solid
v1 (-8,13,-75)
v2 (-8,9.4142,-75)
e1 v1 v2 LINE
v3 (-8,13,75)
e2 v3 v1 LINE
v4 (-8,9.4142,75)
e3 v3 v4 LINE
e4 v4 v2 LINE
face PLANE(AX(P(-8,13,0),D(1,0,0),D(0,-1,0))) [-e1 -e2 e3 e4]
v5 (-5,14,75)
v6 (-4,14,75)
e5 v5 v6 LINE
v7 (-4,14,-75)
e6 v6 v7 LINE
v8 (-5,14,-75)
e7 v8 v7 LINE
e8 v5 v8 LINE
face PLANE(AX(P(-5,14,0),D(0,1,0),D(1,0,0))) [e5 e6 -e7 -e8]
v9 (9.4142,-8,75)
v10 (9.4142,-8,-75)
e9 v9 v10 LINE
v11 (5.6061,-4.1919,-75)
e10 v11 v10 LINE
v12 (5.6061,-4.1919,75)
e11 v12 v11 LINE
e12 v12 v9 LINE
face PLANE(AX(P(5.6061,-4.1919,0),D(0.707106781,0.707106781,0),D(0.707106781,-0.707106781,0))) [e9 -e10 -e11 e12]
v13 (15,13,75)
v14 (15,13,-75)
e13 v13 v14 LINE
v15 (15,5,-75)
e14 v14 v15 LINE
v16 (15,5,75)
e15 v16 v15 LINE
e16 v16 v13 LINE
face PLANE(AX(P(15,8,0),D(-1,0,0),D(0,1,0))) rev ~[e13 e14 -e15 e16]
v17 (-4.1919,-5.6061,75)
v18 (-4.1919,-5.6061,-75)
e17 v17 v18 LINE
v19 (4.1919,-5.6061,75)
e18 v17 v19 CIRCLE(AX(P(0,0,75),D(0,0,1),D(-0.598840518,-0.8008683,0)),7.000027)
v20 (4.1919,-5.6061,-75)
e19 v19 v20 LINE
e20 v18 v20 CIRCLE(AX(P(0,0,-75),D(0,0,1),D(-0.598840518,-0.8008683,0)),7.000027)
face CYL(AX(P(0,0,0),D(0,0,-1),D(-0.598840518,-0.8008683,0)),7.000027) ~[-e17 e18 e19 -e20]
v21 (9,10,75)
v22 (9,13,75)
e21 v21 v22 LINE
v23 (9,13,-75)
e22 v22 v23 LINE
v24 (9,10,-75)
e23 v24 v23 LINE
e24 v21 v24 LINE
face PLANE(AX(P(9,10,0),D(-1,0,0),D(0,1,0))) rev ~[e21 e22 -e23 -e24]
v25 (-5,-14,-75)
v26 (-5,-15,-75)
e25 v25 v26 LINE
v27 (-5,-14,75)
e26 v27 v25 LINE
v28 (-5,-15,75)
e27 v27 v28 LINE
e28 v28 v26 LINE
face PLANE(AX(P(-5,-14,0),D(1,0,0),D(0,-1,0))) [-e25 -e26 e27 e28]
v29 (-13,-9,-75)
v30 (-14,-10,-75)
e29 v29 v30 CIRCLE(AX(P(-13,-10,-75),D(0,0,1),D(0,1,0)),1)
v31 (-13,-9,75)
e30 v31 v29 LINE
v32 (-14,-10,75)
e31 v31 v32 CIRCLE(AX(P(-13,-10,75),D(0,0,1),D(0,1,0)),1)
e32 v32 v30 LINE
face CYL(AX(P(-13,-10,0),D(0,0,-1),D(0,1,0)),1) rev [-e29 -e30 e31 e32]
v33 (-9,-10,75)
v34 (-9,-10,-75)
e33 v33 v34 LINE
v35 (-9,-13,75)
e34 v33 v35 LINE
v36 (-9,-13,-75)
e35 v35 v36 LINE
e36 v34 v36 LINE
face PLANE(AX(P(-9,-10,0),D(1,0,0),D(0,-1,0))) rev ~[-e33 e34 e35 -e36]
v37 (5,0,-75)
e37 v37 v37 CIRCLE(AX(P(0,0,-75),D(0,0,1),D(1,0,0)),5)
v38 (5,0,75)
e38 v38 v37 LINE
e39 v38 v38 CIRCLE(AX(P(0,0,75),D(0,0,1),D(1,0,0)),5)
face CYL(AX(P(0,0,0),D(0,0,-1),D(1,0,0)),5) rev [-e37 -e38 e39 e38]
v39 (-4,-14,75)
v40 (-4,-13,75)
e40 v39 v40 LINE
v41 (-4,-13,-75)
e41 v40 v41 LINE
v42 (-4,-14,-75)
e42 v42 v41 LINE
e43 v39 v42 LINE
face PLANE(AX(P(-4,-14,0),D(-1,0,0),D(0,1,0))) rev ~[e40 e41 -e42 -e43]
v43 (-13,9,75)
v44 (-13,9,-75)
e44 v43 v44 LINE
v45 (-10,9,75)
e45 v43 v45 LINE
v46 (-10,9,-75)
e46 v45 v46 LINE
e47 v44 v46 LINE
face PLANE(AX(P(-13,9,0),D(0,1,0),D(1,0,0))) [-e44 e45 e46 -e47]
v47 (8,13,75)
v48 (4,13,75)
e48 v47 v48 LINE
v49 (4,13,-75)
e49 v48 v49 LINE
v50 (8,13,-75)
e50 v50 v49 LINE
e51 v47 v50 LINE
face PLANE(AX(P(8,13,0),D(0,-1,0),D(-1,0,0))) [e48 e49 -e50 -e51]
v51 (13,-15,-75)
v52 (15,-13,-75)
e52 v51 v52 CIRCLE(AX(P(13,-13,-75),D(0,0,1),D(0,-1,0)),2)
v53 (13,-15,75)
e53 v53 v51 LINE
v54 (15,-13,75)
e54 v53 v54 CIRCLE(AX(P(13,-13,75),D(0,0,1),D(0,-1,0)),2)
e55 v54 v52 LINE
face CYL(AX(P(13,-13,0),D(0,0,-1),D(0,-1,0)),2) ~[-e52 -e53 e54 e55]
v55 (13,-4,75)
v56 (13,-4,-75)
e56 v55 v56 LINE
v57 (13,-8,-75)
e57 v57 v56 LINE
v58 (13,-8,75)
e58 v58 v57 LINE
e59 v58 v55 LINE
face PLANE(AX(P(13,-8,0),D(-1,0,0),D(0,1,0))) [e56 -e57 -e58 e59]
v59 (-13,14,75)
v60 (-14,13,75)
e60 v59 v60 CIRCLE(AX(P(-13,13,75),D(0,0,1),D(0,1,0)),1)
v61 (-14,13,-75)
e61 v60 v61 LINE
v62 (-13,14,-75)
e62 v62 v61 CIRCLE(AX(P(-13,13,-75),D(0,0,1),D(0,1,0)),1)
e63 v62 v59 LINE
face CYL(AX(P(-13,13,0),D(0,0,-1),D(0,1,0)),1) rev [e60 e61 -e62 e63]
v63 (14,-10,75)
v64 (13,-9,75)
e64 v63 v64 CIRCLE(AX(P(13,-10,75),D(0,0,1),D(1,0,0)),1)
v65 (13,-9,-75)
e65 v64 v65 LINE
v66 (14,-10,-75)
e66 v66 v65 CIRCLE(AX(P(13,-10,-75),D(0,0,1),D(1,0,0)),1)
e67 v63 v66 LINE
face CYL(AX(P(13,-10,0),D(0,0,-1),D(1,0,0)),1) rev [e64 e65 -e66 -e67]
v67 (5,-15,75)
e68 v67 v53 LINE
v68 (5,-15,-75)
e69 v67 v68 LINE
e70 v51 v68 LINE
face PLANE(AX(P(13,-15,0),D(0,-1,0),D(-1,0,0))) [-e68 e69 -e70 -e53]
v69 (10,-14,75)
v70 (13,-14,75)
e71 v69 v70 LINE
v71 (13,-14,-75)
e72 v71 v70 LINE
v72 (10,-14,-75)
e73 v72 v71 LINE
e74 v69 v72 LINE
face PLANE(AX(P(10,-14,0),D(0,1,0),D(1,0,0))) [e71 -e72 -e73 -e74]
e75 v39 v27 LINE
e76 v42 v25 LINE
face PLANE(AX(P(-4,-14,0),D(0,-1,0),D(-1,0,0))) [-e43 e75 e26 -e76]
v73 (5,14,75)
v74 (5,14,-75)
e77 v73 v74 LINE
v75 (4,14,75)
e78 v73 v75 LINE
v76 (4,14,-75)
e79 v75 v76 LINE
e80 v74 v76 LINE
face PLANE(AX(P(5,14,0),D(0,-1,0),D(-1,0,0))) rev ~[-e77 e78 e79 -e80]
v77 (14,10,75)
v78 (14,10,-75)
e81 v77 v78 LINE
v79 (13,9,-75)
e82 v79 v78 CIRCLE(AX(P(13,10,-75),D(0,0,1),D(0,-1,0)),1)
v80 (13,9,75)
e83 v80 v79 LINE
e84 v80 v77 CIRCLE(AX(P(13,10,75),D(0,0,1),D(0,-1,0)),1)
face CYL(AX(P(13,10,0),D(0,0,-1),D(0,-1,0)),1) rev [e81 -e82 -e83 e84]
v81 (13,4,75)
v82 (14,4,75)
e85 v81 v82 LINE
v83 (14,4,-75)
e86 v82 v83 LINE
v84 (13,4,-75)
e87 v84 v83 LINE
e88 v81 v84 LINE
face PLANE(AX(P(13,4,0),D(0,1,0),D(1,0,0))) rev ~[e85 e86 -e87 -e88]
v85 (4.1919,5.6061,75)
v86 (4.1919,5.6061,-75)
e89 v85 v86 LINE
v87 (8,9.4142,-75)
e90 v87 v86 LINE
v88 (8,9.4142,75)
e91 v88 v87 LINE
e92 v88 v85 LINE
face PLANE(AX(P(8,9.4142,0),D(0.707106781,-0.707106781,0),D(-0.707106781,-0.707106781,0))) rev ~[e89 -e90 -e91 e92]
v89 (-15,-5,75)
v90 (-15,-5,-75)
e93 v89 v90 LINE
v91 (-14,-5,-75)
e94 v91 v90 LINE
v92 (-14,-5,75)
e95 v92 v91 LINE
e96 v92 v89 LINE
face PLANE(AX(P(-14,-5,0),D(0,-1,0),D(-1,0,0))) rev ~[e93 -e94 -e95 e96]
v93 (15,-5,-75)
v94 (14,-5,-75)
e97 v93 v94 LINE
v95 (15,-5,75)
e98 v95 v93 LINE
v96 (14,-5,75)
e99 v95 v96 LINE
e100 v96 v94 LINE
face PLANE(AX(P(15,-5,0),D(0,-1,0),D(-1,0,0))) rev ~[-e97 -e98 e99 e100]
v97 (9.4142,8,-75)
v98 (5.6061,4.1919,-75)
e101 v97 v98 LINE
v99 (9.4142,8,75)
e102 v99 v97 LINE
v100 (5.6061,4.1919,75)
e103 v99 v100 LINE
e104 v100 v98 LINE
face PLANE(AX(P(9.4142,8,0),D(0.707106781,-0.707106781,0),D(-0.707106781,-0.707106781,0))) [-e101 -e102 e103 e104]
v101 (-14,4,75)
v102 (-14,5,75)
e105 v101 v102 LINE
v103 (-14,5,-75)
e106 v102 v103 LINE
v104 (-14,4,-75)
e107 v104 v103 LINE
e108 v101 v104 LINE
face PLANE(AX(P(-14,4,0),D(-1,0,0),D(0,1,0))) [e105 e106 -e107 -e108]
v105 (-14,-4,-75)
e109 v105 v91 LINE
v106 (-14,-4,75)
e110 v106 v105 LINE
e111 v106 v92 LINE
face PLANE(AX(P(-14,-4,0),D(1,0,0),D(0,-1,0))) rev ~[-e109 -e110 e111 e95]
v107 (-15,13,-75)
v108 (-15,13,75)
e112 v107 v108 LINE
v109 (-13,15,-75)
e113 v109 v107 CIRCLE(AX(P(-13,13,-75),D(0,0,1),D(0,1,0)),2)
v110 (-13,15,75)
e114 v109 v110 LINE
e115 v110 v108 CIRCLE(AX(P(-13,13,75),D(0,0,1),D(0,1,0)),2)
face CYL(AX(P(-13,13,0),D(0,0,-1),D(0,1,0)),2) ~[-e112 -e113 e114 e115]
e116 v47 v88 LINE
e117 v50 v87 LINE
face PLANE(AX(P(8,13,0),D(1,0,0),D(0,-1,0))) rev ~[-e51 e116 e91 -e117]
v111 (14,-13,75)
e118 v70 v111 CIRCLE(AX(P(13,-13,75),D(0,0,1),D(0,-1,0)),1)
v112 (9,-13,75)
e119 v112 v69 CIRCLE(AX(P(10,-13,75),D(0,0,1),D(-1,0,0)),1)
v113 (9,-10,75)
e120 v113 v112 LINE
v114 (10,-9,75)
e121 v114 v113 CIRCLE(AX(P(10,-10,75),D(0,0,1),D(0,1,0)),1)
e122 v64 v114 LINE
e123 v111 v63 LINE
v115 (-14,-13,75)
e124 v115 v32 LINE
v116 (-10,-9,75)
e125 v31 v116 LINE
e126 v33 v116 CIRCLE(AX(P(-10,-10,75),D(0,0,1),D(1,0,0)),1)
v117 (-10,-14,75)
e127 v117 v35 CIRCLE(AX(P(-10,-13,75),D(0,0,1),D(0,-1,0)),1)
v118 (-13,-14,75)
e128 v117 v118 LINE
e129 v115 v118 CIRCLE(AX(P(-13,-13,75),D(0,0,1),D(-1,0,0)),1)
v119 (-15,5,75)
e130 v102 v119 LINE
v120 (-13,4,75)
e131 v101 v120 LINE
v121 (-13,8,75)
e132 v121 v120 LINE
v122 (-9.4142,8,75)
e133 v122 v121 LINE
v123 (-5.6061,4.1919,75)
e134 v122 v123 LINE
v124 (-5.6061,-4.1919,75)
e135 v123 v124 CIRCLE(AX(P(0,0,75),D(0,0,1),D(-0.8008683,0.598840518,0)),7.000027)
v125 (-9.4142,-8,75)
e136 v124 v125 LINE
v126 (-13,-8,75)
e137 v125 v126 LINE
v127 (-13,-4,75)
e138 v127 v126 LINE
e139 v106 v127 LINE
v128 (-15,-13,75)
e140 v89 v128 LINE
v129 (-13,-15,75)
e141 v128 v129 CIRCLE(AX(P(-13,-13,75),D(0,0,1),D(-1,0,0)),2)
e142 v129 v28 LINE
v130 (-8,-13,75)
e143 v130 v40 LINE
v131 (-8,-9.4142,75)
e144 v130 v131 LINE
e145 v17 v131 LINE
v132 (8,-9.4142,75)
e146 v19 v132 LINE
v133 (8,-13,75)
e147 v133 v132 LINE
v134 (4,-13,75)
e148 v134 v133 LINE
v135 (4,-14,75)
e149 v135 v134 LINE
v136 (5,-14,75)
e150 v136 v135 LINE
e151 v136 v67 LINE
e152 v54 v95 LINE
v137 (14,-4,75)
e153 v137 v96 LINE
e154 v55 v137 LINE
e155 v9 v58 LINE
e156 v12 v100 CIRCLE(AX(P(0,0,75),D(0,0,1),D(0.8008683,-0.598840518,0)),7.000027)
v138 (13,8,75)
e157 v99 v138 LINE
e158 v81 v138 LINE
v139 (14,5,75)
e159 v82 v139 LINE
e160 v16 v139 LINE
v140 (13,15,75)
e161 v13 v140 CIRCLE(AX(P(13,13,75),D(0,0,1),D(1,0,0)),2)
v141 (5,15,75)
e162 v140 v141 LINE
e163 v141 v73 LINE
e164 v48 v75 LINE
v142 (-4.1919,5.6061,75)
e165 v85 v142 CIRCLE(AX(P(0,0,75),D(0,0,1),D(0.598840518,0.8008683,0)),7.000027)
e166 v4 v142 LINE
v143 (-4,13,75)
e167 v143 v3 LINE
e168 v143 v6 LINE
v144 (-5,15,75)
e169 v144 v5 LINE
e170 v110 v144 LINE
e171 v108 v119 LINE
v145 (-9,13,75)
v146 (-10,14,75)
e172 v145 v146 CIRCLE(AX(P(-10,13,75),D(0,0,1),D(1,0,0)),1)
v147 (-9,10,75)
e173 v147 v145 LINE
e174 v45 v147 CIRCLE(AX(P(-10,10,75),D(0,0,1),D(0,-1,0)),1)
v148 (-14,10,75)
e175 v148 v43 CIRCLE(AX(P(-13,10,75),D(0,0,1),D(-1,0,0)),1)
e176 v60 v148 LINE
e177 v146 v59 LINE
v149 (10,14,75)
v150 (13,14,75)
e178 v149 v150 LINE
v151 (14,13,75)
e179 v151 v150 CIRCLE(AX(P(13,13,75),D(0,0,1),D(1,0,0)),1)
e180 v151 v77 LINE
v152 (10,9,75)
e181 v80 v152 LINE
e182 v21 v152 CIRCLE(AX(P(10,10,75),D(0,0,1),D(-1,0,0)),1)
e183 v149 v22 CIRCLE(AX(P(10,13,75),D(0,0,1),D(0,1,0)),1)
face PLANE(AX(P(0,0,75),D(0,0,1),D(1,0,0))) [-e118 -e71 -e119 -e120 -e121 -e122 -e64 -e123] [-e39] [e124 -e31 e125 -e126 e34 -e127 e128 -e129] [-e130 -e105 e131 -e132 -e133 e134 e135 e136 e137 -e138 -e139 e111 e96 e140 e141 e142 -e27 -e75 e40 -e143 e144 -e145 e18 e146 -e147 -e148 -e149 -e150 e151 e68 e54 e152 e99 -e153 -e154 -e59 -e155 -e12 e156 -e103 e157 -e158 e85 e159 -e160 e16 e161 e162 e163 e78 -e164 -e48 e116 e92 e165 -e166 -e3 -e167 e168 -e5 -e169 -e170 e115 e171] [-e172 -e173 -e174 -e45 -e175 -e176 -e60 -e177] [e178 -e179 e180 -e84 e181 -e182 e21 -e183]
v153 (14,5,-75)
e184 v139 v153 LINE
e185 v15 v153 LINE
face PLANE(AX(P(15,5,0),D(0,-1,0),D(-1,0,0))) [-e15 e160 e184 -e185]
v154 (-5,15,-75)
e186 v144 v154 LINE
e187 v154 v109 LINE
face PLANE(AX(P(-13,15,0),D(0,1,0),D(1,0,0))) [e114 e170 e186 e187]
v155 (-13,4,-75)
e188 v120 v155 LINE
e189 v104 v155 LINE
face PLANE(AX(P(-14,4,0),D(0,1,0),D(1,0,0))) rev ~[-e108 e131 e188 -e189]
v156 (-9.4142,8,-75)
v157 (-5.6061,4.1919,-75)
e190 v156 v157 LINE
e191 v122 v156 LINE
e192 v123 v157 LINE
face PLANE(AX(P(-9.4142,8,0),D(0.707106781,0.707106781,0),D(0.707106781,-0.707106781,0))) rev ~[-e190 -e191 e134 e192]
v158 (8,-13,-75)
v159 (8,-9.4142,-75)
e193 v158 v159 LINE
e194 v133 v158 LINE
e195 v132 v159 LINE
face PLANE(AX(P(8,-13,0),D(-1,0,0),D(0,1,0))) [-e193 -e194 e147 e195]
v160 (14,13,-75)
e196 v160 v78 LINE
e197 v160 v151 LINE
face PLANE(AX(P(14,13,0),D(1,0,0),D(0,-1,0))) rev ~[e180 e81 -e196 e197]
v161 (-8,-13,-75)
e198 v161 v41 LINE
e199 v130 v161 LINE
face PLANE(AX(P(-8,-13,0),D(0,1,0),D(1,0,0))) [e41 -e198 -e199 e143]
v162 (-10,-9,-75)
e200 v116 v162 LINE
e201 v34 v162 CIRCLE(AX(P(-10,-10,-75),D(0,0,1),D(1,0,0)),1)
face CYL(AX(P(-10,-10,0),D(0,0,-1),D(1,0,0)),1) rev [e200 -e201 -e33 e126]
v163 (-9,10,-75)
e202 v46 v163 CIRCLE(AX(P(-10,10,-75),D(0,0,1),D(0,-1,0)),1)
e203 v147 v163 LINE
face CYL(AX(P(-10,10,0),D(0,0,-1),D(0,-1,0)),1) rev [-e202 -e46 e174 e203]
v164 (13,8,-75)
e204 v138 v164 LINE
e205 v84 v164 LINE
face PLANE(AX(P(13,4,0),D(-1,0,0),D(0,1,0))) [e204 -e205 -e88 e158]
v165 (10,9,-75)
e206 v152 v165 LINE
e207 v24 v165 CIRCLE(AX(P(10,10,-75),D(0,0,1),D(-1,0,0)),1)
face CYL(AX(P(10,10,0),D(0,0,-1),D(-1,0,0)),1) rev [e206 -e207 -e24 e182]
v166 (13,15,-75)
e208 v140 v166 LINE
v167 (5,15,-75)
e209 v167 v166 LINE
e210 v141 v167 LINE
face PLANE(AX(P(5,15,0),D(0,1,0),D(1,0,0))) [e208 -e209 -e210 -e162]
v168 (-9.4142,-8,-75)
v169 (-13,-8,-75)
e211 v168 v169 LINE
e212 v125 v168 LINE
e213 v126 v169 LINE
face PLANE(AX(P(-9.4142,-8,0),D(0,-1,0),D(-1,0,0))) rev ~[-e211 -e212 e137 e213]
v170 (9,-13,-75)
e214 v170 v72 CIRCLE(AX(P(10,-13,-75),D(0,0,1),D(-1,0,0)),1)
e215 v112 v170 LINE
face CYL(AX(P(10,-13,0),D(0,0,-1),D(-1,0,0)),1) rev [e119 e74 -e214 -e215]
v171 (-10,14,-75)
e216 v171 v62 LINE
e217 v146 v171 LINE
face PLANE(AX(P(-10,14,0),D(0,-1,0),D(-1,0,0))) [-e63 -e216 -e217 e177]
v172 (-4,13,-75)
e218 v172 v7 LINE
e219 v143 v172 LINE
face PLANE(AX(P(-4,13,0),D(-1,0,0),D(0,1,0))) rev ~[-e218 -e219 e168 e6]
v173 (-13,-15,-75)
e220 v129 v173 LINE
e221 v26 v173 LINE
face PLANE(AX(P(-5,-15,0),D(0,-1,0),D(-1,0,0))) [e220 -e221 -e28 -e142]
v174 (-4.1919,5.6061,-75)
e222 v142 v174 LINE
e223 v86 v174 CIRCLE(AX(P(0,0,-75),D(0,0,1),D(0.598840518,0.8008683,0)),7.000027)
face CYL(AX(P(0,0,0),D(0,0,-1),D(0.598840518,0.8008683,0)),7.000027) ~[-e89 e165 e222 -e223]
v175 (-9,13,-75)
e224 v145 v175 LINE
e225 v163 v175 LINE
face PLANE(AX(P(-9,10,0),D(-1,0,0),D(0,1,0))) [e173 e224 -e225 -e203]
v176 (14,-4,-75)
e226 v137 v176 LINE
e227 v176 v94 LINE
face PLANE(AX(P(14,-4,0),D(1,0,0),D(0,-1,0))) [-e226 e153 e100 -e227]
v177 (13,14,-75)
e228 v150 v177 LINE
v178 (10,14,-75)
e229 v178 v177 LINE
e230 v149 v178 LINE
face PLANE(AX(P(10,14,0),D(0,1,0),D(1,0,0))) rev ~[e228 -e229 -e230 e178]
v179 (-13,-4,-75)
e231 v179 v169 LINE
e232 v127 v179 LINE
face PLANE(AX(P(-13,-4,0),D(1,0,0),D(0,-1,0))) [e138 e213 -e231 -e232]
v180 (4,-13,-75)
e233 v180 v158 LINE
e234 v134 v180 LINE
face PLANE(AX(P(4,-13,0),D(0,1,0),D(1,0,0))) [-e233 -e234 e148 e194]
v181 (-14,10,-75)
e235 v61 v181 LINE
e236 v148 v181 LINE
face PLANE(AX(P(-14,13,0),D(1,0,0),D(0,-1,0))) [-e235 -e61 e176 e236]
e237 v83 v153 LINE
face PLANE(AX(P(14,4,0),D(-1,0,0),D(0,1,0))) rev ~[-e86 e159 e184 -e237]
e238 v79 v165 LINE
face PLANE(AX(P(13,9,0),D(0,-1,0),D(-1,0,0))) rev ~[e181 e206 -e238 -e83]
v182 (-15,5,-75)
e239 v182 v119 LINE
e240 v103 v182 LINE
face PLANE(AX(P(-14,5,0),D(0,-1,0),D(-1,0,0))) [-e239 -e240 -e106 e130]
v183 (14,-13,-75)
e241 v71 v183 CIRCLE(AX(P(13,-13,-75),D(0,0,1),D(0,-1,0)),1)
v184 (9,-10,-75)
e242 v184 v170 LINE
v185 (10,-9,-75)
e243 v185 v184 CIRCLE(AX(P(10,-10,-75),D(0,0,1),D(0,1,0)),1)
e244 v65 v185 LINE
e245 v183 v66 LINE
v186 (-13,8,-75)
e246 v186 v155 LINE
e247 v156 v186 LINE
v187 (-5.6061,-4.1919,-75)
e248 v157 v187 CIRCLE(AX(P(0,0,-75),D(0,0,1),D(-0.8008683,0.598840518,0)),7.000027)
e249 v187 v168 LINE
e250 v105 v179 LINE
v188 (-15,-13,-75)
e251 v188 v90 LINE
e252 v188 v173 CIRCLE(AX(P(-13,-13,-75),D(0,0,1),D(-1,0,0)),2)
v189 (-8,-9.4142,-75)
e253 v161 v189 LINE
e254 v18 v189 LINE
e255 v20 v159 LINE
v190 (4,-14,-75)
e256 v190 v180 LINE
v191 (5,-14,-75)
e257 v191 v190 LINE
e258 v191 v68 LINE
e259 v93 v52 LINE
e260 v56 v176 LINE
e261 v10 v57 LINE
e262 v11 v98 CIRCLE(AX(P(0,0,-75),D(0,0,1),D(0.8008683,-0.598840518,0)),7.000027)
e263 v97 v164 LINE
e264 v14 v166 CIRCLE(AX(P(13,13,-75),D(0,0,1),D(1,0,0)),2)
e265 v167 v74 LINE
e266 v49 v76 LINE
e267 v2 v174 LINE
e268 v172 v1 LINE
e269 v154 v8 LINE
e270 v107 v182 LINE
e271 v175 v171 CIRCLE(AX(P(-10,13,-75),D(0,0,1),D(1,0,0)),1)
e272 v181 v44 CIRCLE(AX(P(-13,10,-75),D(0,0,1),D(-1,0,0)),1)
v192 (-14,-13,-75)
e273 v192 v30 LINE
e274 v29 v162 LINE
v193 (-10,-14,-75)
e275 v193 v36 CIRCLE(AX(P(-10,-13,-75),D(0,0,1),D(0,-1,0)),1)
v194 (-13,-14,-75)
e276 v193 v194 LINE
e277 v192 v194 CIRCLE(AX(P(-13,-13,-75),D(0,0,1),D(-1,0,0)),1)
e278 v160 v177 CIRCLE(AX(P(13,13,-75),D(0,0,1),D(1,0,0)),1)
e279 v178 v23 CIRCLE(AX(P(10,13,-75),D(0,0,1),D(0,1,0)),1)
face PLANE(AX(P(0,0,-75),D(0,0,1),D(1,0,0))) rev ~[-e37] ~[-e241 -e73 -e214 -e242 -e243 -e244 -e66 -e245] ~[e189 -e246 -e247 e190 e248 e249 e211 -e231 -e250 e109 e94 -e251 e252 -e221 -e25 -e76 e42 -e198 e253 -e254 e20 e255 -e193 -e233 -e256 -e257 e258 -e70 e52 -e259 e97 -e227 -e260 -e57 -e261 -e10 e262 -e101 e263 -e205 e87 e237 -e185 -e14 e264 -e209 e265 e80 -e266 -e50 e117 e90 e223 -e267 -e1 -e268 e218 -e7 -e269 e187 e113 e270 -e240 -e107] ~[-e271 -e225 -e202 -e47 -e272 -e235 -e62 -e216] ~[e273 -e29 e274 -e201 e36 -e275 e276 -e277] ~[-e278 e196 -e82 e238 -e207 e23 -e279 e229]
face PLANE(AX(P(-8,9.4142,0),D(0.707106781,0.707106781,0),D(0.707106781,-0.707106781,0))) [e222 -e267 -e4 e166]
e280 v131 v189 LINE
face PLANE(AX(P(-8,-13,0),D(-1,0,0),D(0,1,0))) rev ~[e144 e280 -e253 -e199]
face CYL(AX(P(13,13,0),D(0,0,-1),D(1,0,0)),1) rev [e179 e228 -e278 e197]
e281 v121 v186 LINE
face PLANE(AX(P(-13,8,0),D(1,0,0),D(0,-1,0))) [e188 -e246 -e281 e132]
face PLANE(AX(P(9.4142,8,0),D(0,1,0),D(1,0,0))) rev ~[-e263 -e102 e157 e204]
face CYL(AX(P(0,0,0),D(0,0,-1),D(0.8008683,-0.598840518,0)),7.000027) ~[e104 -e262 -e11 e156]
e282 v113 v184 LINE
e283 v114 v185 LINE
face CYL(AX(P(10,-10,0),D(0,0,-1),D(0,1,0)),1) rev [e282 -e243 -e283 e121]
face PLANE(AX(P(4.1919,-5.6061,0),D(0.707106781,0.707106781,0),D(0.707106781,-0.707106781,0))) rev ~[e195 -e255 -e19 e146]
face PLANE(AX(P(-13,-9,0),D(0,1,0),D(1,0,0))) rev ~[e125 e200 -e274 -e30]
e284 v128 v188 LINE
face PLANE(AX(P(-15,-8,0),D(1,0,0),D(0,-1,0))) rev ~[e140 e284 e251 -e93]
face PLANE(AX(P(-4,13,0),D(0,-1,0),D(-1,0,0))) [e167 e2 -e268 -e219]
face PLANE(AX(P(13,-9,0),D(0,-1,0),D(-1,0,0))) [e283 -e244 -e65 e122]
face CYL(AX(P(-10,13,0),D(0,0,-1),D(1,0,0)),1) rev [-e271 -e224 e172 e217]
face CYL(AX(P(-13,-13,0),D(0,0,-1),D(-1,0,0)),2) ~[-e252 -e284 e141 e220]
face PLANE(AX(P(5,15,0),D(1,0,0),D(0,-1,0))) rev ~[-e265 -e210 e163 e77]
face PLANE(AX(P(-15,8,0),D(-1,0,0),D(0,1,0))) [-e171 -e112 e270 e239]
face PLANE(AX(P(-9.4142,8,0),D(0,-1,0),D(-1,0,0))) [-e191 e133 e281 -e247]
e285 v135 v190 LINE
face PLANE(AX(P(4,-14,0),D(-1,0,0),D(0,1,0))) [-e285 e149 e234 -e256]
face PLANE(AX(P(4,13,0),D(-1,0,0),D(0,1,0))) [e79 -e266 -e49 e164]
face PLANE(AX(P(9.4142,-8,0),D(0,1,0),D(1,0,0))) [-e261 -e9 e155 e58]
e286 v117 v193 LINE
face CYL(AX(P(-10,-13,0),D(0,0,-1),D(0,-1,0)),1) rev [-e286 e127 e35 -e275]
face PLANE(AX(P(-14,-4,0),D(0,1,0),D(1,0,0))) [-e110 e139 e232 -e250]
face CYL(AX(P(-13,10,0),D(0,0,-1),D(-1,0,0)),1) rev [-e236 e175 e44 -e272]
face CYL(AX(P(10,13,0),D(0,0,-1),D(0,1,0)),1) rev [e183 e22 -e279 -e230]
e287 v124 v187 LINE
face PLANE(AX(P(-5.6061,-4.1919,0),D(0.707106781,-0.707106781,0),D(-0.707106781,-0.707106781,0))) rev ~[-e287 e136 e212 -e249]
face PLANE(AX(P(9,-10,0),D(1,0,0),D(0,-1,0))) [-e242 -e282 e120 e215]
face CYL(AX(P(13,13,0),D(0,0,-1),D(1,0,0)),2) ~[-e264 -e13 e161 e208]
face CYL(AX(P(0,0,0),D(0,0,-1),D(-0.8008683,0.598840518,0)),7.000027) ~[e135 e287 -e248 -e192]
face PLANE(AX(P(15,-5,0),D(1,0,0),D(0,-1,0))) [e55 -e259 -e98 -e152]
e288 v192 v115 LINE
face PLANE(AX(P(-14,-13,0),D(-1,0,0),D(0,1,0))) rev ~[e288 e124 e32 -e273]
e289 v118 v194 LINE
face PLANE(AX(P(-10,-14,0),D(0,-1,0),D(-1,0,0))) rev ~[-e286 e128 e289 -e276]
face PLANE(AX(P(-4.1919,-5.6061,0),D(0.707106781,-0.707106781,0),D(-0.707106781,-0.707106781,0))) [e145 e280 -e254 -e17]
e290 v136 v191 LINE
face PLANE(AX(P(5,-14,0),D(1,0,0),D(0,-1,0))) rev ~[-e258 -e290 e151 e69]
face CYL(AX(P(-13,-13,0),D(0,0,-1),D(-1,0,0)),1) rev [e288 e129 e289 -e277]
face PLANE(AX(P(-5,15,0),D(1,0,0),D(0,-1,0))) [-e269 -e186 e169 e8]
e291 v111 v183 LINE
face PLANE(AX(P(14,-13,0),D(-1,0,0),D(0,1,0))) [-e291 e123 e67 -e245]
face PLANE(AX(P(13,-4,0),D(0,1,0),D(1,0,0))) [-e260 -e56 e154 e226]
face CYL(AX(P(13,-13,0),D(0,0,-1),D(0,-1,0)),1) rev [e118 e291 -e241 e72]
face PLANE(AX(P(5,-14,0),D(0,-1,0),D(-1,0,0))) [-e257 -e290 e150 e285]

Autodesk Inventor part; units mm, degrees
ref_plane "YZ Plane" through (0, 0, 0) normal (1, 0, 0) x (0, 1, 0)
ref_plane "XZ Plane" through (0, 0, 0) normal (0, 1, 0) x (-1, 0, 0)
ref_plane "XY Plane" through (0, 0, 0) normal (0, 0, 1) x (1, 0, 0)
sketch "Sketch1" plane through (0, 0, 0) normal (0, 0, 1) x (1, 0, 0)
  circle A0 centre (0, 0) radius 5
  arc A1 (-13, 15) -> (-15, 13) centre (-13, 13) ccw
  arc A2 (-15, -13) -> (-13, -15) centre (-13, -13) ccw
  arc A3 (13, -15) -> (15, -13) centre (13, -13) ccw
  arc A4 (15, 13) -> (13, 15) centre (13, 13) ccw
  arc A5 (-13, 14) -> (-14, 13) centre (-13, 13) ccw
  arc A6 (-14, -13) -> (-13, -14) centre (-13, -13) ccw
  arc A7 (13, -14) -> (14, -13) centre (13, -13) ccw
  arc A8 (14, 13) -> (13, 14) centre (13, 13) ccw
  line L0 (14, -14) -> (-14, 14) construction
  line L1 (-14, -14) -> (14, 14) construction
  line L2 (15, -15) -> (-15, 15) construction
  line L3 (-15, -15) -> (15, 15) construction
  line L4 (-13, 15) -> (-8, 15)
  line L5 (-8, 13) -> (-8, 8) construction
  line L6 (-9.4142, 8) -> (-13, 8)
  line L7 (-15, 8) -> (-15, 13)
  line L8 (-13, -15) -> (-8, -15)
  line L9 (-8, -13) -> (-8, -9.4142)
  line L10 (-9.4142, -8) -> (-13, -8)
  line L11 (-15, -8) -> (-15, -13)
  line L12 (13, -15) -> (8, -15)
  line L13 (8, -13) -> (8, -9.4142)
  line L14 (9.4142, -8) -> (13, -8)
  line L15 (15, -8) -> (15, -13)
  line L16 (13, 15) -> (8, 15)
  line L17 (8, 13) -> (8, 9.4142)
  line L18 (9.4142, 8) -> (13, 8)
  line L19 (15, 8) -> (15, 13)
  line L20 (-13, 9) -> (-10, 9)
  line L21 (-9, 10) -> (-9, 13)
  line L22 (-10, 14) -> (-13, 14)
  line L23 (-14, 13) -> (-14, 10)
  line L24 (13, 9) -> (10, 9)
  line L25 (9, 10) -> (9, 13)
  line L26 (10, 14) -> (13, 14)
  line L27 (14, 13) -> (14, 10)
  line L28 (13, -9) -> (10, -9)
  line L29 (9, -10) -> (9, -13)
  line L30 (10, -14) -> (13, -14)
  line L31 (14, -13) -> (14, -10)
  line L32 (-13, -9) -> (-10, -9)
  line L33 (-9, -10) -> (-9, -13)
  line L34 (-10, -14) -> (-13, -14)
  line L35 (-14, -13) -> (-14, -10)
  line L36 (-14, 13) -> (-14, 10)
  line L37 (-14, -10) -> (-14, -13)
  line L38 (-14, -13) -> (-14, -10)
  line L39 (-14, 10) -> (-14, 13)
  line L40 (13, -15) -> (5, -15)
  line L41 (-5, -15) -> (-13, -15)
  line L42 (13, -15) -> (5, -15) construction
  line L43 (0, -15) -> (-13, -15) construction
  line L44 (4, -13) -> (8, -13)
  line L45 (-8, -13) -> (-4, -13)
  line L46 (10, -9) -> (13, -9)
  line L47 (14, -10) -> (14, -13)
  line L48 (13, -14) -> (10, -14)
  line L49 (9, -13) -> (9, -10)
  line L50 (5, -14) -> (5, -15)
  line L51 (13, -14) -> (10, -14)
  line L52 (5, -14) -> (4, -14)
  line L53 (4, -14) -> (5, -14)
  line L54 (10, -14) -> (13, -14)
  line L55 (-4, -14) -> (-5, -14)
  line L56 (-10, -14) -> (-13, -14)
  line L57 (-13, -14) -> (-10, -14)
  line L58 (-5, -14) -> (-4, -14)
  line L59 (14, -13) -> (14, -10)
  line L60 (14, 10) -> (14, 13)
  line L61 (14, 13) -> (14, 10)
  line L62 (14, -10) -> (14, -13)
  line L63 (-5, -14) -> (-5, -15)
  line L64 (10, 14) -> (13, 14)
  line L65 (13, 14) -> (10, 14)
  line L66 (-10, 14) -> (-13, 14)
  line L67 (-13, 14) -> (-10, 14)
  line L68 (-5, 15) -> (-5, 14)
  line L69 (-13, 15) -> (-5, 15)
  line L70 (5, 15) -> (13, 15)
  line L71 (-15, 15) -> (-5, 15) construction
  line L72 (5, 15) -> (15, 15) construction
  line L73 (5, 15) -> (5, 14)
  line L74 (8, 13) -> (4, 13)
  line L75 (5, 14) -> (4, 14)
  line L76 (-5, 14) -> (-4, 14)
  line L77 (4, 14) -> (5, 14)
  line L78 (-4, 13) -> (-8, 13)
  line L79 (-4, 14) -> (-5, 14)
  line L80 (4, 13) -> (4, 14)
  line L81 (-4, 13) -> (-4, 14)
  line L82 (-4, -14) -> (-4, -13)
  line L83 (4, -14) -> (4, -13)
  line L84 (-8, 9.4142) -> (-4.1919, 5.6061)
  line L85 (8, 9.4142) -> (4.1919, 5.6061)
  line L86 (9.4142, 8) -> (5.6061, 4.1919)
  line L87 (5.6061, -4.1919) -> (9.4142, -8)
  line L88 (4.1919, -5.6061) -> (8, -9.4142)
  line L89 (-4.1919, -5.6061) -> (-8, -9.4142)
  line L90 (-5.6061, -4.1919) -> (-9.4142, -8)
  line L91 (-9.4142, 8) -> (-5.6061, 4.1919)
  arc A9 (4.1919, 5.6061) -> (-4.1919, 5.6061) centre (0, 0) ccw
  arc A10 (5.6061, -4.1919) -> (5.6061, 4.1919) centre (0, 0) ccw
  arc A11 (-5.6061, 4.1919) -> (-5.6061, -4.1919) centre (0, 0) ccw
  arc A12 (-4.1919, -5.6061) -> (4.1919, -5.6061) centre (0, 0) ccw
  line L92 (-8, 13) -> (-8, 9.4142)
  line L93 (-15, -13) -> (-15, -5) construction
  line L94 (-15, -13) -> (-15, -5)
  line L95 (-15, 5) -> (-15, 13)
  line L96 (15, -5) -> (15, -13) construction
  line L97 (15, 13) -> (15, 5)
  line L98 (15, -5) -> (15, -13)
  line L99 (-14, -4) -> (-14, -5)
  line L100 (14, -4) -> (14, -5)
  line L101 (14, 4) -> (14, 5)
  line L102 (-14, 4) -> (-14, 5)
  line L103 (-13, 8) -> (-13, 4)
  line L104 (13, 4) -> (13, 8)
  line L105 (13, -8) -> (13, -4)
  line L106 (-13, -4) -> (-13, -8)
  line L107 (-14, -5) -> (-15, -5)
  line L108 (15, -5) -> (14, -5)
  line L109 (15, 5) -> (14, 5)
  line L110 (-14, 5) -> (-15, 5)
  line L111 (13, 4) -> (14, 4)
  line L112 (-14, 4) -> (-13, 4)
  line L113 (-14, -4) -> (-13, -4)
  line L114 (13, -4) -> (14, -4)
  arc A13 (-13, -9) -> (-14, -10) centre (-13, -10) ccw
  arc A14 (-9, -10) -> (-10, -9) centre (-10, -10) ccw
  arc A15 (-10, -14) -> (-9, -13) centre (-10, -13) ccw
  arc A16 (10, -9) -> (9, -10) centre (10, -10) ccw
  arc A17 (9, -13) -> (10, -14) centre (10, -13) ccw
  arc A18 (14, -10) -> (13, -9) centre (13, -10) ccw
  arc A19 (10, 14) -> (9, 13) centre (10, 13) ccw
  arc A20 (9, 10) -> (10, 9) centre (10, 10) ccw
  arc A21 (13, 9) -> (14, 10) centre (13, 10) ccw
  arc A22 (-9, 13) -> (-10, 14) centre (-10, 13) ccw
  arc A23 (-10, 9) -> (-9, 10) centre (-10, 10) ccw
  arc A24 (-14, 10) -> (-13, 9) centre (-13, 10) ccw
  point P0 (15, -15)
  point P1 (-5.5858, -7)
  dimension "d0" = 30
  dimension "d1" = 30
  dimension "d2" = 10
  dimension "d4" = 2
  dimension "d11" = 28
  dimension "d12" = 7
  dimension "d13" = 7
  dimension "d15" = 1
  dimension "d16" = 1
  dimension "d17" = 1
  dimension "d18" = 1
  dimension "d19" = 5
  dimension "d23" = 30
  dimension "d27" = 1
  dimension "d30" = 3.5858
  dimension "d31" = 2
  dimension "d32" = 16
  dimension "d33" = 8
  dimension "d34" = 6
  dimension "d35" = 5.5858
extrude "Extrusion1" add sketch "Sketch1" along normal mid plane 150
equation "\"d1\" = d0"
properties part number "pot_antispin" material "Aluminum 6061"
